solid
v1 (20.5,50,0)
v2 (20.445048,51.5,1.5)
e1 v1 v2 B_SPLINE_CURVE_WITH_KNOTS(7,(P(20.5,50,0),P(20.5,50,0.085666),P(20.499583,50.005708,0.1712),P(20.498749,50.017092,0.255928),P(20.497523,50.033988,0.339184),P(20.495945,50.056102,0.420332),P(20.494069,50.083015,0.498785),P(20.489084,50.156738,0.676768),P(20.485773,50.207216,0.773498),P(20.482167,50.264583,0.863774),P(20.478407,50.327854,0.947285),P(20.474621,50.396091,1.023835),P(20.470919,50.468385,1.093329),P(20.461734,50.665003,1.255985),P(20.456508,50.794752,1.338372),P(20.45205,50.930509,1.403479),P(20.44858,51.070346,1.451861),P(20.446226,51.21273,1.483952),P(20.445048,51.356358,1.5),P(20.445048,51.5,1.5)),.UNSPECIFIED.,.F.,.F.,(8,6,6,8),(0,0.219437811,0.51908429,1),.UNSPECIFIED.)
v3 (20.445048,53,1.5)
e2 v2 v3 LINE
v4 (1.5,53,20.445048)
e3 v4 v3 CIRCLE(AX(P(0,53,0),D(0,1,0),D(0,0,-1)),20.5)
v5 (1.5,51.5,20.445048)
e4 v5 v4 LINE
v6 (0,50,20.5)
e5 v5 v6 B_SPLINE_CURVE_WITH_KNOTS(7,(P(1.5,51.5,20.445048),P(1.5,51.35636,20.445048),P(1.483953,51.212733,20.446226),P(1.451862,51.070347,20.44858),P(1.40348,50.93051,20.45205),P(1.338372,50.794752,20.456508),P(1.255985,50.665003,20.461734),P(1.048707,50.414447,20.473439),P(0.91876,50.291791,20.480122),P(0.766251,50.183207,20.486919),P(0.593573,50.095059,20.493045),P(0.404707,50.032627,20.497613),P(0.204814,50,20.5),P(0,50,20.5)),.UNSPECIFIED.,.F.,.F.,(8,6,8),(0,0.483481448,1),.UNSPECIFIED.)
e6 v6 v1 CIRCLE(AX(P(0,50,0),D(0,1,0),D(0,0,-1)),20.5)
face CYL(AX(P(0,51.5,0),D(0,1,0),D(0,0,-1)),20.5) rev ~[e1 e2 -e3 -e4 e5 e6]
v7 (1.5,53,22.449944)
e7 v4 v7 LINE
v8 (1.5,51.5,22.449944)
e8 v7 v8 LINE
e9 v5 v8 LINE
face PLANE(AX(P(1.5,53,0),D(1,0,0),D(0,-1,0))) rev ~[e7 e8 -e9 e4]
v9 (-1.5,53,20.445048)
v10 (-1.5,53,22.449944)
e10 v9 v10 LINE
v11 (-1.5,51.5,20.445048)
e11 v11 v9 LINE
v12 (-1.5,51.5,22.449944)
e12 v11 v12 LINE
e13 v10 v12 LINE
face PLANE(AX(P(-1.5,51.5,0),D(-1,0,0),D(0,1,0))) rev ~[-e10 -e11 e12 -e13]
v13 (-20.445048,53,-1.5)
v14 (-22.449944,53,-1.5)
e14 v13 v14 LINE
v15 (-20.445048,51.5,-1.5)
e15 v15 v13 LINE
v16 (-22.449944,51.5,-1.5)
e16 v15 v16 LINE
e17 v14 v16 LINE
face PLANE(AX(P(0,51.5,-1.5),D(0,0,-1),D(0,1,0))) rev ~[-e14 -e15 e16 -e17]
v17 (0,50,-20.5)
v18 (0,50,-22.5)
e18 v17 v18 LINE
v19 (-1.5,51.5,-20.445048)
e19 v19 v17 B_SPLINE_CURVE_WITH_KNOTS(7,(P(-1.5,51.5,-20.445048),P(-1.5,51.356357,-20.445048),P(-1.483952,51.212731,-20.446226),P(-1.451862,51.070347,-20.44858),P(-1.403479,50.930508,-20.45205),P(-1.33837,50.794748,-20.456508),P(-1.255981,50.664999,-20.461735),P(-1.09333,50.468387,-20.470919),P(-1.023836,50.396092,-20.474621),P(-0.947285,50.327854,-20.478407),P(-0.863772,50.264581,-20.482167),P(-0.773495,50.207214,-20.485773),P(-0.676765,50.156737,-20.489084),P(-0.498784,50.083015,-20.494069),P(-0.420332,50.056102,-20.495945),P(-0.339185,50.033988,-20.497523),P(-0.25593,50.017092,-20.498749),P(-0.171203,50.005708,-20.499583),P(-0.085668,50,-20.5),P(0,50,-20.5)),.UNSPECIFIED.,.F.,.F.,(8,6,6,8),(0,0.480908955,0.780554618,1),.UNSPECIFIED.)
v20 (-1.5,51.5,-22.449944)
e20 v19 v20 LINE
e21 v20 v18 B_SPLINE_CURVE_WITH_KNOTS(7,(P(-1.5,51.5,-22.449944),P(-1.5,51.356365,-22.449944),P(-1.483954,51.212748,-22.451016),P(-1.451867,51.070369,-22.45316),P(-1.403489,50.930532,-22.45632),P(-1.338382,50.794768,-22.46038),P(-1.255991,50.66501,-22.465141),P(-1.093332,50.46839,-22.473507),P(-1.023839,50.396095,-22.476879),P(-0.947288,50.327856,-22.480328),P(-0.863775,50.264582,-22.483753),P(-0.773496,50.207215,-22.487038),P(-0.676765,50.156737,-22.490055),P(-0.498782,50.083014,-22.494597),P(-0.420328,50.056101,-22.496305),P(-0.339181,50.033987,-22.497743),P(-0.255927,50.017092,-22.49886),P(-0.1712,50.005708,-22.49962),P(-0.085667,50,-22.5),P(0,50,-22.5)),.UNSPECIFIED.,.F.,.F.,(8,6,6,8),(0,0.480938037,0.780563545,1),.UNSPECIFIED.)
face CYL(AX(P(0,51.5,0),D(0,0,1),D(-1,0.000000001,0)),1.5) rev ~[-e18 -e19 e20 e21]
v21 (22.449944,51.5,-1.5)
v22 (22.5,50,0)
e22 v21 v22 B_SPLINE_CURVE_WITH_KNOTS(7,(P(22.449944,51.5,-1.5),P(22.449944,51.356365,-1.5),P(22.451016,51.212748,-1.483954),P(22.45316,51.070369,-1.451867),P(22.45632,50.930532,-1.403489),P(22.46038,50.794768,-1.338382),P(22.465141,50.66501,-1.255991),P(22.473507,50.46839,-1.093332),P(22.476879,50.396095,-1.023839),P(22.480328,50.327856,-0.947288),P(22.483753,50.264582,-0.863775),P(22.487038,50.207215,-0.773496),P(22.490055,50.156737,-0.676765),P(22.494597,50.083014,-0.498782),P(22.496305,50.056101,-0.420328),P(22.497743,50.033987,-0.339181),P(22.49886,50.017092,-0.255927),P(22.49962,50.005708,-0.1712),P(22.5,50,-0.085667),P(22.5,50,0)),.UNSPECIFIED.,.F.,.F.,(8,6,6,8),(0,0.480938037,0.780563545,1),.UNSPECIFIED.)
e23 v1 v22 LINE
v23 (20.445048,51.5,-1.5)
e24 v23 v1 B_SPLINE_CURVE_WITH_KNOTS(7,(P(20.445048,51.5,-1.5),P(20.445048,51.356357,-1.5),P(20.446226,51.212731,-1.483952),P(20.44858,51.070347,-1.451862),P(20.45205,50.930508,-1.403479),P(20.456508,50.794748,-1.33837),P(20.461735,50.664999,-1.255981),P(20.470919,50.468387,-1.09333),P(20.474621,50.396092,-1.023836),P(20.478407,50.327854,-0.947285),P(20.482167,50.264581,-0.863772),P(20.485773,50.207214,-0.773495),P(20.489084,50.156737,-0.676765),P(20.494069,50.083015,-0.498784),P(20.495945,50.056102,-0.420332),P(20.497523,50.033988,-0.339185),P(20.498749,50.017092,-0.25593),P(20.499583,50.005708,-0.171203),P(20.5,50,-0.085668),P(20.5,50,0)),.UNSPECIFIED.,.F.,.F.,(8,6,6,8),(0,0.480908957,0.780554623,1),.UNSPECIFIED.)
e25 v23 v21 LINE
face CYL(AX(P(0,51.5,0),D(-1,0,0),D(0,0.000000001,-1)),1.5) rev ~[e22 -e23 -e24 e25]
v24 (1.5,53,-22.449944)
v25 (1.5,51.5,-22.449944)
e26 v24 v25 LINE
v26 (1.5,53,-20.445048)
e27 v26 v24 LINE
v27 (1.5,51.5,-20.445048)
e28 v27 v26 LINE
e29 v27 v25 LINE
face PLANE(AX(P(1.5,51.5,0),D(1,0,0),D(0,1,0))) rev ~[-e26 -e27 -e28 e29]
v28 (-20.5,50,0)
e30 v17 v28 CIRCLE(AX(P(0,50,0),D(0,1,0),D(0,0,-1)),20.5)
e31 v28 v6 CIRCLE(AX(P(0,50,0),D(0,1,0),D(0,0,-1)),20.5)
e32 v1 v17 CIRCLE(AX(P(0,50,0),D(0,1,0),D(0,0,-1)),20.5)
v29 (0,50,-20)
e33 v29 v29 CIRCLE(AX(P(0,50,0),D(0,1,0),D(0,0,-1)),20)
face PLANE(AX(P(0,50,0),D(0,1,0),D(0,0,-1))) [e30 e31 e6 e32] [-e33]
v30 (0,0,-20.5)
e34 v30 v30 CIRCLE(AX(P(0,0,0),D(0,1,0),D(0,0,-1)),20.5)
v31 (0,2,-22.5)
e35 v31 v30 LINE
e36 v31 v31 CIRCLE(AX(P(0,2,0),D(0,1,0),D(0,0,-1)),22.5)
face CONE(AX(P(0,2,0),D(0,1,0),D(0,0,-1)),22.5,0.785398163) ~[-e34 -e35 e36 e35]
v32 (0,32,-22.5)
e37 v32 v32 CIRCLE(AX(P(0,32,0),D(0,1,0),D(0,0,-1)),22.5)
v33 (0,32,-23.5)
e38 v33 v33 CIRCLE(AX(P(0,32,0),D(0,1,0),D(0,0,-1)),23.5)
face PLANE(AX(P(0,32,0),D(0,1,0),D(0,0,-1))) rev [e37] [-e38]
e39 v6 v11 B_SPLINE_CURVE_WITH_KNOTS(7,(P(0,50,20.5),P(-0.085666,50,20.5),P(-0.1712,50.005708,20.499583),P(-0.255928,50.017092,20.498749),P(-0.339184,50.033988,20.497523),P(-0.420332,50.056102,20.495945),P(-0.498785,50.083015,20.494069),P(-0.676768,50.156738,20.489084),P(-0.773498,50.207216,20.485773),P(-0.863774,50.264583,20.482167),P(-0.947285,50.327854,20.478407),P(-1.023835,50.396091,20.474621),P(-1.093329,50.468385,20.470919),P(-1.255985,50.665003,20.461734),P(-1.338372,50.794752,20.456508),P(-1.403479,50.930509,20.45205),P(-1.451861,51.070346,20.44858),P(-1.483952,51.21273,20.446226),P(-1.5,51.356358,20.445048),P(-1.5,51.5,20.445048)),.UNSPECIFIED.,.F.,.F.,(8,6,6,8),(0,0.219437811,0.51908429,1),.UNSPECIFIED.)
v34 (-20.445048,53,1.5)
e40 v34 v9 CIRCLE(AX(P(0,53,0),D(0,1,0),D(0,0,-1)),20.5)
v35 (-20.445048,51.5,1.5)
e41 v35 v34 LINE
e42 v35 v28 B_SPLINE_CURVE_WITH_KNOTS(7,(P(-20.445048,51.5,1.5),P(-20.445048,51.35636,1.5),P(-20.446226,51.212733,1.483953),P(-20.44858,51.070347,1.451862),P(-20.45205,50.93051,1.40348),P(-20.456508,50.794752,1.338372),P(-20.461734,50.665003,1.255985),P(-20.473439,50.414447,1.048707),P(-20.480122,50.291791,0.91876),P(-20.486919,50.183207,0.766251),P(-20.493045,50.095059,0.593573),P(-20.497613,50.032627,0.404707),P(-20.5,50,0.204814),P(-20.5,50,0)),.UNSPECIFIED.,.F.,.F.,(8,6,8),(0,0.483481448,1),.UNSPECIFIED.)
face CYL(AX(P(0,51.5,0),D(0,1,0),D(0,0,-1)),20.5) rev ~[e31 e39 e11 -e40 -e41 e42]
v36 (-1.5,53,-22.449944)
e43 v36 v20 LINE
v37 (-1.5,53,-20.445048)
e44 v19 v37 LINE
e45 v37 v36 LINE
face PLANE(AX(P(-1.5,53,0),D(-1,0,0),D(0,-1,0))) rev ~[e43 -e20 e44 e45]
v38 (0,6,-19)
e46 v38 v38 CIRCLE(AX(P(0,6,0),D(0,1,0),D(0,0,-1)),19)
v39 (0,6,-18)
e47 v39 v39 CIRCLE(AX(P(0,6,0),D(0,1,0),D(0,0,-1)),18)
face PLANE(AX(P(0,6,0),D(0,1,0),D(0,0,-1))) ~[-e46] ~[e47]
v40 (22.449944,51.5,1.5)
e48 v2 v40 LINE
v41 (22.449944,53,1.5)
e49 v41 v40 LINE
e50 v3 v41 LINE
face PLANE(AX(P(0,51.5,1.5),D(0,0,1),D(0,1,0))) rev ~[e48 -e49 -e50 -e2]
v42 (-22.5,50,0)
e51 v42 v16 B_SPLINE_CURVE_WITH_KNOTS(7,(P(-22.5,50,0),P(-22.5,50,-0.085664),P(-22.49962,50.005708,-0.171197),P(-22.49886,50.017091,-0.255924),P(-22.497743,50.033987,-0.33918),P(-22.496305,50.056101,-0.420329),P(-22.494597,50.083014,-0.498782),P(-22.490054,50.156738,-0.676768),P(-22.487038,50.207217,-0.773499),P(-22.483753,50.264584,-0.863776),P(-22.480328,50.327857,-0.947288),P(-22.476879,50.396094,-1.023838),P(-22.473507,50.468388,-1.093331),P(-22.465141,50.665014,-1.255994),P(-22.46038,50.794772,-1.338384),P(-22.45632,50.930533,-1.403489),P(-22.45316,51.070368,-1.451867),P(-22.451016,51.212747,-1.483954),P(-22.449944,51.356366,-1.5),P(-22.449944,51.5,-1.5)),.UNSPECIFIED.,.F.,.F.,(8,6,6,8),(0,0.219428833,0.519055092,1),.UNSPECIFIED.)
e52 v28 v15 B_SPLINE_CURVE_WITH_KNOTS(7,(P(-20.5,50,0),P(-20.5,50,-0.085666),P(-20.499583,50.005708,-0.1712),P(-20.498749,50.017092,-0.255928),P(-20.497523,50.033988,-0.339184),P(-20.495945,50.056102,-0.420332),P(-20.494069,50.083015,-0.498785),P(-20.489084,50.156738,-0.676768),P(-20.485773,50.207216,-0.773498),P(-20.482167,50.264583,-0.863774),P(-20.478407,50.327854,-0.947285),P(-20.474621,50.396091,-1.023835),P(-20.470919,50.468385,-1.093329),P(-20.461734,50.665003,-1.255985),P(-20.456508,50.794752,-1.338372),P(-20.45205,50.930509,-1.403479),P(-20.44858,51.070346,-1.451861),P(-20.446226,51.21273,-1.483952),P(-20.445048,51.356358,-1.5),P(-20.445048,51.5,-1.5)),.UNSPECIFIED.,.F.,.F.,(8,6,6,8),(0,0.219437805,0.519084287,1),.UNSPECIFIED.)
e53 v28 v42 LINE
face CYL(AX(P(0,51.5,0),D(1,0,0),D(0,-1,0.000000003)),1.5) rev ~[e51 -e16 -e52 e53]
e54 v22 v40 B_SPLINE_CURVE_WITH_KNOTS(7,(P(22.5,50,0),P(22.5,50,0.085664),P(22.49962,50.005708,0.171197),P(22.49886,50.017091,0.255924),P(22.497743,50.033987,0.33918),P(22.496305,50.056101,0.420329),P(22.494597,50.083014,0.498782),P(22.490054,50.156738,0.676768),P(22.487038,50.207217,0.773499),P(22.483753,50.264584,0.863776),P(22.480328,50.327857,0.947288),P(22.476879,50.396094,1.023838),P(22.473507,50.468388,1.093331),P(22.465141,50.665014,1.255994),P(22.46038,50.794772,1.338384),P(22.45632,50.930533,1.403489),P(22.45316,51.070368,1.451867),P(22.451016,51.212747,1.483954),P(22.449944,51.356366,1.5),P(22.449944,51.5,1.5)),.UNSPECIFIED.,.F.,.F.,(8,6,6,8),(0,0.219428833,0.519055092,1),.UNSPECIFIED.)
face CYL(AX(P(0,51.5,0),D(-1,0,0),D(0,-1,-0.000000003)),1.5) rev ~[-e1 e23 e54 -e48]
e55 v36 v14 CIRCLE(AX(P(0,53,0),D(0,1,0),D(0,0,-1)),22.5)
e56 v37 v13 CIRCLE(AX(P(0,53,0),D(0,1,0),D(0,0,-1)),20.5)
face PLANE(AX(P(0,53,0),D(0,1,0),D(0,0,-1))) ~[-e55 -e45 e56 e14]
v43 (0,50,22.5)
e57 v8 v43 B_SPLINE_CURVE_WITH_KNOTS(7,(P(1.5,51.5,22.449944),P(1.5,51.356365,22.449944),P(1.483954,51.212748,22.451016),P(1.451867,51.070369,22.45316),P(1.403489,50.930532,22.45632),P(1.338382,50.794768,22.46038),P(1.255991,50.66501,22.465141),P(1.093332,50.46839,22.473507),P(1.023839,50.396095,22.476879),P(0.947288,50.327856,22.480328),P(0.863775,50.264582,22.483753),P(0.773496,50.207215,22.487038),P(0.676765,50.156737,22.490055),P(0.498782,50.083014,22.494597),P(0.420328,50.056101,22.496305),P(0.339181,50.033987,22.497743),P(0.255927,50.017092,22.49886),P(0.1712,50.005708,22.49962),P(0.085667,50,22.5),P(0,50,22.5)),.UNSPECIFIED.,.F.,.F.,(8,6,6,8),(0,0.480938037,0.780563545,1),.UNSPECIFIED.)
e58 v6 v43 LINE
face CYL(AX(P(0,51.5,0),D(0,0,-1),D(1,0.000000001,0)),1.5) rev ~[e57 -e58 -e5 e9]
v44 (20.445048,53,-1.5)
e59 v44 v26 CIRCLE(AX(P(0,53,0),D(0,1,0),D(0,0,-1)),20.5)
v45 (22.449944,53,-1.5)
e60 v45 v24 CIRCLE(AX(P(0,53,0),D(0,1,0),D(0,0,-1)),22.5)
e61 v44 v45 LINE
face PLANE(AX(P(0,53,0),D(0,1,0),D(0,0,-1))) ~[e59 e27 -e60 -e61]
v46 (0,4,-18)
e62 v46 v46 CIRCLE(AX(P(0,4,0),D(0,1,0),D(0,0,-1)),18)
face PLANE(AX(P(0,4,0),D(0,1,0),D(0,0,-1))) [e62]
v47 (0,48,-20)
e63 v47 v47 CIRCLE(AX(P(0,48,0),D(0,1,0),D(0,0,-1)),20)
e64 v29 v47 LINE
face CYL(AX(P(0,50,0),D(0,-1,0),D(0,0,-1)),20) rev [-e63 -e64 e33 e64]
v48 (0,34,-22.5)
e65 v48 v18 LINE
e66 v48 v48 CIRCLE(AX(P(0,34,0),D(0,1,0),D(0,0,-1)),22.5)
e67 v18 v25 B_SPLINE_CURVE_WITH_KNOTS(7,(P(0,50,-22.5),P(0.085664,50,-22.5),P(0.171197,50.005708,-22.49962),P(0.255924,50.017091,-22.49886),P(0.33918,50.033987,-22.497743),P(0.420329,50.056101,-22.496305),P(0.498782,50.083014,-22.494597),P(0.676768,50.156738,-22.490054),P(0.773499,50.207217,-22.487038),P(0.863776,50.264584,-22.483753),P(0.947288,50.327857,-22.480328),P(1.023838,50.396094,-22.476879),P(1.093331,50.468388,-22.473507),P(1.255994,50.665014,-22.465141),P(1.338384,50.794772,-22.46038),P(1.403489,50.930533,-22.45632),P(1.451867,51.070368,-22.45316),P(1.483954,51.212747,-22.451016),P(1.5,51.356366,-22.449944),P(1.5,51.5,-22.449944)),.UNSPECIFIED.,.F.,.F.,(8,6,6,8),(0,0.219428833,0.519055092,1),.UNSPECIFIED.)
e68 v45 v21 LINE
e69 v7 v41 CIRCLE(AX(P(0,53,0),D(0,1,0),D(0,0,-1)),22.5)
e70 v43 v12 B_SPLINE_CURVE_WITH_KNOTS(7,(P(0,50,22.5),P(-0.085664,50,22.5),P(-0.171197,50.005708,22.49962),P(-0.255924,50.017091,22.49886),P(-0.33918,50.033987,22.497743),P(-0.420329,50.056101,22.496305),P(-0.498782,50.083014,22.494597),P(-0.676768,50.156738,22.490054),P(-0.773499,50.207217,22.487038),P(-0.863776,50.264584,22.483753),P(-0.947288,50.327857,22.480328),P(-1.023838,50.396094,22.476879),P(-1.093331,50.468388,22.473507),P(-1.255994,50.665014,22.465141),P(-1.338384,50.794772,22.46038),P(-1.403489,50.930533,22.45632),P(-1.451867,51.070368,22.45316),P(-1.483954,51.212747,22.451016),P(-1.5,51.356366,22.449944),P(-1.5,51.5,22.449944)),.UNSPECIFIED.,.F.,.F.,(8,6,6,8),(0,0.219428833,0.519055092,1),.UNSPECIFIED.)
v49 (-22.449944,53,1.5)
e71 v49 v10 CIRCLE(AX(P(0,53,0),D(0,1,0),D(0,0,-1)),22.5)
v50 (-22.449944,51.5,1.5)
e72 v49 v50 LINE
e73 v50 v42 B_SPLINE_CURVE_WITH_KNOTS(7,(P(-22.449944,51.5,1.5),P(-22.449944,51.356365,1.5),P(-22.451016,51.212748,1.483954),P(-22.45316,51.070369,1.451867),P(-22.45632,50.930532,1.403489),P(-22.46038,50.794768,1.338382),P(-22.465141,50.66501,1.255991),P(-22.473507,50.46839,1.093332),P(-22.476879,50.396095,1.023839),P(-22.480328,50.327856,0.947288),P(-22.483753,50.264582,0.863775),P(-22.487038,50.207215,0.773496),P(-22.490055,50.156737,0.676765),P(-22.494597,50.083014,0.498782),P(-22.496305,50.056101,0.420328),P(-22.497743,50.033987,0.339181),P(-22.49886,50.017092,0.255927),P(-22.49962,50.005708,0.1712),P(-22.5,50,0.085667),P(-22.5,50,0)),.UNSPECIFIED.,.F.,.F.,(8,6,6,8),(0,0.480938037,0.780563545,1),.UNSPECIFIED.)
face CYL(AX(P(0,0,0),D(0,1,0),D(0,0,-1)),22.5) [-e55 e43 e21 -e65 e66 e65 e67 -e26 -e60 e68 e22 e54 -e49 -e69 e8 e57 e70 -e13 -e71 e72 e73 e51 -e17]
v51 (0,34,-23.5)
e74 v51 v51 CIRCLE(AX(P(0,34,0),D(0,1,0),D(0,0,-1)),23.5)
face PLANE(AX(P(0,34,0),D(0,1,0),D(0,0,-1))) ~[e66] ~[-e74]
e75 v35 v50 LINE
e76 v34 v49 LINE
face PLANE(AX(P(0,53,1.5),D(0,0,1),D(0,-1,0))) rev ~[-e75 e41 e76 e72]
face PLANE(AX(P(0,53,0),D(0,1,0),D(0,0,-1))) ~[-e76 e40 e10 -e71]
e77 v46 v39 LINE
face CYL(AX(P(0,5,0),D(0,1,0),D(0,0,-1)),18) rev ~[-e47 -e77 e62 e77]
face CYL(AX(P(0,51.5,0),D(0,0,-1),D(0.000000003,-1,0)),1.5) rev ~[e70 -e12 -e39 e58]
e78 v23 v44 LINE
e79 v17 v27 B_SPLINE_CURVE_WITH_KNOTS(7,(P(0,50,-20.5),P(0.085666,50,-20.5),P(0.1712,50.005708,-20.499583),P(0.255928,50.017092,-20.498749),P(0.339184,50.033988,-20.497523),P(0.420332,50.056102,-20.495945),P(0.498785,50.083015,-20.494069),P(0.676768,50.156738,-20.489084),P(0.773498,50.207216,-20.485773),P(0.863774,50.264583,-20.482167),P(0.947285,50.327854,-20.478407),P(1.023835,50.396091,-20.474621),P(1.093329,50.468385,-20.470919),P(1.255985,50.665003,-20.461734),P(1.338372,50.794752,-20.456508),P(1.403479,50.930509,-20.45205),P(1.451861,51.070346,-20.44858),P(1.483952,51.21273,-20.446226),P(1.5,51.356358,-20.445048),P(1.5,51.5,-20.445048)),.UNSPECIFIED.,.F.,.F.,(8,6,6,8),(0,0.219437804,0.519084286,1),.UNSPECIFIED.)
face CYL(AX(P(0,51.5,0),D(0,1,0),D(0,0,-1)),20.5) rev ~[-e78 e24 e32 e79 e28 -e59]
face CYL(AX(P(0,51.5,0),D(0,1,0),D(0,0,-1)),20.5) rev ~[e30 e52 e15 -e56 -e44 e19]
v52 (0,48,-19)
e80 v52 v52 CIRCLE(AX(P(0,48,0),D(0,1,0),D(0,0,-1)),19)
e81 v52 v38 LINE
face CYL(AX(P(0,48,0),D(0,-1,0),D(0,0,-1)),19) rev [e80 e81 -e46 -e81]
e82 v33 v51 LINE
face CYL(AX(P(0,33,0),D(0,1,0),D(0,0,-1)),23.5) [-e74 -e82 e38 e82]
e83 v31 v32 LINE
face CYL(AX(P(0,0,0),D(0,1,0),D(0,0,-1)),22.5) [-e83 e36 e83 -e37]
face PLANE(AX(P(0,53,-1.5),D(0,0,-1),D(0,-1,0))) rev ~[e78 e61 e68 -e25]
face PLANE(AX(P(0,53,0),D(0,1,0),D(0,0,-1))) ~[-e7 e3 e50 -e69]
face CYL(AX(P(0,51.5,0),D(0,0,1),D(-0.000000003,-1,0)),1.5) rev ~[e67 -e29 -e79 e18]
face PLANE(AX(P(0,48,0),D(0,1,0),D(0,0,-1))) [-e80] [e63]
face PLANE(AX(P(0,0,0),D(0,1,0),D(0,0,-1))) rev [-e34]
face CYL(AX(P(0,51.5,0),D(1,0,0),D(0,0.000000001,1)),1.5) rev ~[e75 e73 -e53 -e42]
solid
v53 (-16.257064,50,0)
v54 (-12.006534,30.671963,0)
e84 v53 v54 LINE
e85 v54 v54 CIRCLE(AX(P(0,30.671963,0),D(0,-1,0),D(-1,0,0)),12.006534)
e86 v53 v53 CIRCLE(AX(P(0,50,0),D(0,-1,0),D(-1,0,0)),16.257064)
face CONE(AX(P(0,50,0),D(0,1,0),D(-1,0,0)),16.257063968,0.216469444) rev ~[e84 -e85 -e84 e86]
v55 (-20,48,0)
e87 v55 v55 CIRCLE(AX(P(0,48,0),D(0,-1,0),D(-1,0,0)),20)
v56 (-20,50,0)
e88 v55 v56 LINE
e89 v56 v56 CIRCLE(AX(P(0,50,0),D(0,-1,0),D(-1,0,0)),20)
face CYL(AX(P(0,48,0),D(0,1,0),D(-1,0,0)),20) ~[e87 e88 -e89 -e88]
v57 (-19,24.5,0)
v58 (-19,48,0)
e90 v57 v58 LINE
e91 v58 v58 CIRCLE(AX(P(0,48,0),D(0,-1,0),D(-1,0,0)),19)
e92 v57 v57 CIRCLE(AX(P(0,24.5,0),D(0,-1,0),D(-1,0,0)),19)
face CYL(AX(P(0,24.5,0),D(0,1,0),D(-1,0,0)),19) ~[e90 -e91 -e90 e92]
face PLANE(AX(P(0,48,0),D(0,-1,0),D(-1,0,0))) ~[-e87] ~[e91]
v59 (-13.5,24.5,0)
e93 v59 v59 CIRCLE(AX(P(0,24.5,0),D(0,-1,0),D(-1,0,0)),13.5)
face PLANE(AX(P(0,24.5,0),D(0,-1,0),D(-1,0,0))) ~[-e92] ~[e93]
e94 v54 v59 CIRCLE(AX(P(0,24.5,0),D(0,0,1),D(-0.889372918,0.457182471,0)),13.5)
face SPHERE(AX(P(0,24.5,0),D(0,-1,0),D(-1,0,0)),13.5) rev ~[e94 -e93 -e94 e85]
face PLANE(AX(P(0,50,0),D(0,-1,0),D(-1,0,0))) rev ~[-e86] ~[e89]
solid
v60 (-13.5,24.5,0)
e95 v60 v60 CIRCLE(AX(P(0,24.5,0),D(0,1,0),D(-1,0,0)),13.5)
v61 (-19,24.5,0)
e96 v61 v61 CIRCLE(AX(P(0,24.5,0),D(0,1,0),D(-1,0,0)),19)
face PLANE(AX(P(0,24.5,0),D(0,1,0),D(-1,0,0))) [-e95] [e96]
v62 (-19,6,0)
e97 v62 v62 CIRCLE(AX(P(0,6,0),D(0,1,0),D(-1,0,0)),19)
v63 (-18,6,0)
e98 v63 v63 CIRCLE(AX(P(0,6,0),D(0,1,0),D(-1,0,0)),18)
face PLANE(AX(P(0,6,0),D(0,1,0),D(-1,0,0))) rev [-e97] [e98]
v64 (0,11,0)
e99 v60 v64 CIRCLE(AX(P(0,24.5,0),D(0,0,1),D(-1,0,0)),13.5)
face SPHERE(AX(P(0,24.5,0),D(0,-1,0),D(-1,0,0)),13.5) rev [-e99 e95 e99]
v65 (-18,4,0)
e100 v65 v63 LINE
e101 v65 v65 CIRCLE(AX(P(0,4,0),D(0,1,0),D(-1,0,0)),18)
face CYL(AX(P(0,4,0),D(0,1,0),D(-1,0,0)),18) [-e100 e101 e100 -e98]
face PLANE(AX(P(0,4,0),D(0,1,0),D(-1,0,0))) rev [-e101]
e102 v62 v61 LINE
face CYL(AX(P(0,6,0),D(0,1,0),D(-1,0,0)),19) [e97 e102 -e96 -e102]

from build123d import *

# Parameters (mm, degrees)
SKETCH_1_W               = 1
SKETCH_1_H               = 2
SKETCH_1_W_2             = 2
SKETCH_1_H_2             = 3
CUT_EXTRUDE_1_REACH      = 64.558
CUT_EXTRUDE_1_END_RADIUS = 22.5
PATTERN_CIRCULAR_1_COUNT = 4
CHAMFER_1_SIZE           = 2


with BuildPart() as part:
    # 草图1 → Revolve 2266 (revolve)
    with BuildSketch(Plane.XY, mode=Mode.PRIVATE) as revolve_2266_sk:
        Polygon((19, 4), (0, 4), (0, 0), (22.5, 0), (22.5, 50), (20, 50), (20, 48), (19, 48), align=None)
        with Locations((18.5, 5)):
            Rectangle(SKETCH_1_W, SKETCH_1_H)
        with Locations((21.5, 51.5)):
            Rectangle(SKETCH_1_W_2, SKETCH_1_H_2)
        with Locations((23, 33)):
            Rectangle(SKETCH_1_W, SKETCH_1_H)
    revolve(revolve_2266_sk.sketch.rotate(Axis((0, 0, 0), (0, 1, 0)), 90), axis=Axis((0, 0, 0), (0, 1, 0)))

    # 切除-拉伸1: up to this cylinder (the profile starts inside it)
    cut_extrude_1_end = Plane(origin=(0, 51.640025, 0), z_dir=(0, -1, 0)) * Cylinder(CUT_EXTRUDE_1_END_RADIUS, 175.116, mode=Mode.PRIVATE)
    # 草图4 → 切除-拉伸1 (cut, up to the surface)
    with BuildSketch(Plane.XY, mode=Mode.PRIVATE) as cut_extrude_1_sk1:
        with BuildLine():
            Line((0, 50), (0, 53))
            Line((0, 53), (-1.5, 53))
            Line((-1.5, 53), (-1.5, 51.5))
            ThreePointArc((-1.5, 51.5), (-1.060660173, 50.439339829), (-3e-09, 50))
        make_face()
    cut_extrude_1_tool1 = extrude(cut_extrude_1_sk1.sketch, amount=-CUT_EXTRUDE_1_REACH, mode=Mode.PRIVATE) & cut_extrude_1_end
    # 草图4 → 切除-拉伸1 (cut, up to the surface)
    with BuildSketch(Plane.XY, mode=Mode.PRIVATE) as cut_extrude_1_sk2:
        with BuildLine():
            Line((1.5, 53), (0, 53))
            Line((0, 53), (0, 50))
            ThreePointArc((-3e-09, 50), (1.060660171, 50.439339827), (1.5, 51.5))
            Line((1.5, 51.5), (1.5, 53))
        make_face()
    cut_extrude_1_tool2 = extrude(cut_extrude_1_sk2.sketch, amount=-CUT_EXTRUDE_1_REACH, mode=Mode.PRIVATE) & cut_extrude_1_end
    cut_extrude_1 = cut_extrude_1_tool1.solids().sort_by_distance((-0.700124, 51.640025, 0))[0] + cut_extrude_1_tool2.solids().sort_by_distance((0.700124, 51.640025, 0))[0]
    add(cut_extrude_1, mode=Mode.SUBTRACT)

    # 阵列(圆周)1: 切除-拉伸1 ×4 about axis
    pattern_circular_1_axis = Axis((0, 0, 0), (0, 1, 0))
    for i in range(1, PATTERN_CIRCULAR_1_COUNT):
        add(cut_extrude_1.rotate(pattern_circular_1_axis, i * 360 / PATTERN_CIRCULAR_1_COUNT), mode=Mode.SUBTRACT)

    # 倒角1
    chamfer_1_edges = [part.edges().sort_by_distance(p)[0] for p in [
        (0, 0, 22.5),
    ]]
    chamfer(chamfer_1_edges, length=CHAMFER_1_SIZE)


with BuildPart() as body_2:
    # 草图2 → Revolve 2503 (revolve)
    with BuildSketch(Plane.XY, mode=Mode.PRIVATE) as revolve_2503_sk:
        with BuildLine():
            Line((19, 13), (19, 24.5))
            Line((19, 24.5), (13.5, 24.5))
            ThreePointArc((13.5, 24.5), (9.545941546, 14.954058454), (0, 11))
            Line((0, 11), (0, 4))
            Line((0, 4), (18, 4))
            Line((18, 4), (18, 6))
            Line((18, 6), (19, 6))
            Line((19, 6), (19, 13))
        make_face()
    revolve(revolve_2503_sk.sketch.rotate(Axis((0, 0, 0), (0, 1, 0)), 180), axis=Axis((0, 0, 0), (0, 1, 0)))


with BuildPart() as body_3:
    # 草图3 → Revolve 2701 (revolve)
    with BuildSketch(Plane.XY, mode=Mode.PRIVATE) as revolve_2701_sk:
        with BuildLine():
            Line((19, 48), (20, 48))
            Line((20, 48), (20, 50))
            Line((20, 50), (16.257063968, 50))
            Line((16.257063968, 50), (12.006534401, 30.671963356))
            ThreePointArc((12.006534401, 30.671963356), (13.121322617, 27.675042172), (13.5, 24.5))
            Line((13.5, 24.5), (19, 24.5))
            Line((19, 24.5), (19, 48))
        make_face()
    revolve(revolve_2701_sk.sketch.rotate(Axis((0, 50, 0), (0, -1, 0)), 180), axis=Axis((0, 50, 0), (0, -1, 0)))


solid = Compound([part.part, body_2.part, body_3.part])
